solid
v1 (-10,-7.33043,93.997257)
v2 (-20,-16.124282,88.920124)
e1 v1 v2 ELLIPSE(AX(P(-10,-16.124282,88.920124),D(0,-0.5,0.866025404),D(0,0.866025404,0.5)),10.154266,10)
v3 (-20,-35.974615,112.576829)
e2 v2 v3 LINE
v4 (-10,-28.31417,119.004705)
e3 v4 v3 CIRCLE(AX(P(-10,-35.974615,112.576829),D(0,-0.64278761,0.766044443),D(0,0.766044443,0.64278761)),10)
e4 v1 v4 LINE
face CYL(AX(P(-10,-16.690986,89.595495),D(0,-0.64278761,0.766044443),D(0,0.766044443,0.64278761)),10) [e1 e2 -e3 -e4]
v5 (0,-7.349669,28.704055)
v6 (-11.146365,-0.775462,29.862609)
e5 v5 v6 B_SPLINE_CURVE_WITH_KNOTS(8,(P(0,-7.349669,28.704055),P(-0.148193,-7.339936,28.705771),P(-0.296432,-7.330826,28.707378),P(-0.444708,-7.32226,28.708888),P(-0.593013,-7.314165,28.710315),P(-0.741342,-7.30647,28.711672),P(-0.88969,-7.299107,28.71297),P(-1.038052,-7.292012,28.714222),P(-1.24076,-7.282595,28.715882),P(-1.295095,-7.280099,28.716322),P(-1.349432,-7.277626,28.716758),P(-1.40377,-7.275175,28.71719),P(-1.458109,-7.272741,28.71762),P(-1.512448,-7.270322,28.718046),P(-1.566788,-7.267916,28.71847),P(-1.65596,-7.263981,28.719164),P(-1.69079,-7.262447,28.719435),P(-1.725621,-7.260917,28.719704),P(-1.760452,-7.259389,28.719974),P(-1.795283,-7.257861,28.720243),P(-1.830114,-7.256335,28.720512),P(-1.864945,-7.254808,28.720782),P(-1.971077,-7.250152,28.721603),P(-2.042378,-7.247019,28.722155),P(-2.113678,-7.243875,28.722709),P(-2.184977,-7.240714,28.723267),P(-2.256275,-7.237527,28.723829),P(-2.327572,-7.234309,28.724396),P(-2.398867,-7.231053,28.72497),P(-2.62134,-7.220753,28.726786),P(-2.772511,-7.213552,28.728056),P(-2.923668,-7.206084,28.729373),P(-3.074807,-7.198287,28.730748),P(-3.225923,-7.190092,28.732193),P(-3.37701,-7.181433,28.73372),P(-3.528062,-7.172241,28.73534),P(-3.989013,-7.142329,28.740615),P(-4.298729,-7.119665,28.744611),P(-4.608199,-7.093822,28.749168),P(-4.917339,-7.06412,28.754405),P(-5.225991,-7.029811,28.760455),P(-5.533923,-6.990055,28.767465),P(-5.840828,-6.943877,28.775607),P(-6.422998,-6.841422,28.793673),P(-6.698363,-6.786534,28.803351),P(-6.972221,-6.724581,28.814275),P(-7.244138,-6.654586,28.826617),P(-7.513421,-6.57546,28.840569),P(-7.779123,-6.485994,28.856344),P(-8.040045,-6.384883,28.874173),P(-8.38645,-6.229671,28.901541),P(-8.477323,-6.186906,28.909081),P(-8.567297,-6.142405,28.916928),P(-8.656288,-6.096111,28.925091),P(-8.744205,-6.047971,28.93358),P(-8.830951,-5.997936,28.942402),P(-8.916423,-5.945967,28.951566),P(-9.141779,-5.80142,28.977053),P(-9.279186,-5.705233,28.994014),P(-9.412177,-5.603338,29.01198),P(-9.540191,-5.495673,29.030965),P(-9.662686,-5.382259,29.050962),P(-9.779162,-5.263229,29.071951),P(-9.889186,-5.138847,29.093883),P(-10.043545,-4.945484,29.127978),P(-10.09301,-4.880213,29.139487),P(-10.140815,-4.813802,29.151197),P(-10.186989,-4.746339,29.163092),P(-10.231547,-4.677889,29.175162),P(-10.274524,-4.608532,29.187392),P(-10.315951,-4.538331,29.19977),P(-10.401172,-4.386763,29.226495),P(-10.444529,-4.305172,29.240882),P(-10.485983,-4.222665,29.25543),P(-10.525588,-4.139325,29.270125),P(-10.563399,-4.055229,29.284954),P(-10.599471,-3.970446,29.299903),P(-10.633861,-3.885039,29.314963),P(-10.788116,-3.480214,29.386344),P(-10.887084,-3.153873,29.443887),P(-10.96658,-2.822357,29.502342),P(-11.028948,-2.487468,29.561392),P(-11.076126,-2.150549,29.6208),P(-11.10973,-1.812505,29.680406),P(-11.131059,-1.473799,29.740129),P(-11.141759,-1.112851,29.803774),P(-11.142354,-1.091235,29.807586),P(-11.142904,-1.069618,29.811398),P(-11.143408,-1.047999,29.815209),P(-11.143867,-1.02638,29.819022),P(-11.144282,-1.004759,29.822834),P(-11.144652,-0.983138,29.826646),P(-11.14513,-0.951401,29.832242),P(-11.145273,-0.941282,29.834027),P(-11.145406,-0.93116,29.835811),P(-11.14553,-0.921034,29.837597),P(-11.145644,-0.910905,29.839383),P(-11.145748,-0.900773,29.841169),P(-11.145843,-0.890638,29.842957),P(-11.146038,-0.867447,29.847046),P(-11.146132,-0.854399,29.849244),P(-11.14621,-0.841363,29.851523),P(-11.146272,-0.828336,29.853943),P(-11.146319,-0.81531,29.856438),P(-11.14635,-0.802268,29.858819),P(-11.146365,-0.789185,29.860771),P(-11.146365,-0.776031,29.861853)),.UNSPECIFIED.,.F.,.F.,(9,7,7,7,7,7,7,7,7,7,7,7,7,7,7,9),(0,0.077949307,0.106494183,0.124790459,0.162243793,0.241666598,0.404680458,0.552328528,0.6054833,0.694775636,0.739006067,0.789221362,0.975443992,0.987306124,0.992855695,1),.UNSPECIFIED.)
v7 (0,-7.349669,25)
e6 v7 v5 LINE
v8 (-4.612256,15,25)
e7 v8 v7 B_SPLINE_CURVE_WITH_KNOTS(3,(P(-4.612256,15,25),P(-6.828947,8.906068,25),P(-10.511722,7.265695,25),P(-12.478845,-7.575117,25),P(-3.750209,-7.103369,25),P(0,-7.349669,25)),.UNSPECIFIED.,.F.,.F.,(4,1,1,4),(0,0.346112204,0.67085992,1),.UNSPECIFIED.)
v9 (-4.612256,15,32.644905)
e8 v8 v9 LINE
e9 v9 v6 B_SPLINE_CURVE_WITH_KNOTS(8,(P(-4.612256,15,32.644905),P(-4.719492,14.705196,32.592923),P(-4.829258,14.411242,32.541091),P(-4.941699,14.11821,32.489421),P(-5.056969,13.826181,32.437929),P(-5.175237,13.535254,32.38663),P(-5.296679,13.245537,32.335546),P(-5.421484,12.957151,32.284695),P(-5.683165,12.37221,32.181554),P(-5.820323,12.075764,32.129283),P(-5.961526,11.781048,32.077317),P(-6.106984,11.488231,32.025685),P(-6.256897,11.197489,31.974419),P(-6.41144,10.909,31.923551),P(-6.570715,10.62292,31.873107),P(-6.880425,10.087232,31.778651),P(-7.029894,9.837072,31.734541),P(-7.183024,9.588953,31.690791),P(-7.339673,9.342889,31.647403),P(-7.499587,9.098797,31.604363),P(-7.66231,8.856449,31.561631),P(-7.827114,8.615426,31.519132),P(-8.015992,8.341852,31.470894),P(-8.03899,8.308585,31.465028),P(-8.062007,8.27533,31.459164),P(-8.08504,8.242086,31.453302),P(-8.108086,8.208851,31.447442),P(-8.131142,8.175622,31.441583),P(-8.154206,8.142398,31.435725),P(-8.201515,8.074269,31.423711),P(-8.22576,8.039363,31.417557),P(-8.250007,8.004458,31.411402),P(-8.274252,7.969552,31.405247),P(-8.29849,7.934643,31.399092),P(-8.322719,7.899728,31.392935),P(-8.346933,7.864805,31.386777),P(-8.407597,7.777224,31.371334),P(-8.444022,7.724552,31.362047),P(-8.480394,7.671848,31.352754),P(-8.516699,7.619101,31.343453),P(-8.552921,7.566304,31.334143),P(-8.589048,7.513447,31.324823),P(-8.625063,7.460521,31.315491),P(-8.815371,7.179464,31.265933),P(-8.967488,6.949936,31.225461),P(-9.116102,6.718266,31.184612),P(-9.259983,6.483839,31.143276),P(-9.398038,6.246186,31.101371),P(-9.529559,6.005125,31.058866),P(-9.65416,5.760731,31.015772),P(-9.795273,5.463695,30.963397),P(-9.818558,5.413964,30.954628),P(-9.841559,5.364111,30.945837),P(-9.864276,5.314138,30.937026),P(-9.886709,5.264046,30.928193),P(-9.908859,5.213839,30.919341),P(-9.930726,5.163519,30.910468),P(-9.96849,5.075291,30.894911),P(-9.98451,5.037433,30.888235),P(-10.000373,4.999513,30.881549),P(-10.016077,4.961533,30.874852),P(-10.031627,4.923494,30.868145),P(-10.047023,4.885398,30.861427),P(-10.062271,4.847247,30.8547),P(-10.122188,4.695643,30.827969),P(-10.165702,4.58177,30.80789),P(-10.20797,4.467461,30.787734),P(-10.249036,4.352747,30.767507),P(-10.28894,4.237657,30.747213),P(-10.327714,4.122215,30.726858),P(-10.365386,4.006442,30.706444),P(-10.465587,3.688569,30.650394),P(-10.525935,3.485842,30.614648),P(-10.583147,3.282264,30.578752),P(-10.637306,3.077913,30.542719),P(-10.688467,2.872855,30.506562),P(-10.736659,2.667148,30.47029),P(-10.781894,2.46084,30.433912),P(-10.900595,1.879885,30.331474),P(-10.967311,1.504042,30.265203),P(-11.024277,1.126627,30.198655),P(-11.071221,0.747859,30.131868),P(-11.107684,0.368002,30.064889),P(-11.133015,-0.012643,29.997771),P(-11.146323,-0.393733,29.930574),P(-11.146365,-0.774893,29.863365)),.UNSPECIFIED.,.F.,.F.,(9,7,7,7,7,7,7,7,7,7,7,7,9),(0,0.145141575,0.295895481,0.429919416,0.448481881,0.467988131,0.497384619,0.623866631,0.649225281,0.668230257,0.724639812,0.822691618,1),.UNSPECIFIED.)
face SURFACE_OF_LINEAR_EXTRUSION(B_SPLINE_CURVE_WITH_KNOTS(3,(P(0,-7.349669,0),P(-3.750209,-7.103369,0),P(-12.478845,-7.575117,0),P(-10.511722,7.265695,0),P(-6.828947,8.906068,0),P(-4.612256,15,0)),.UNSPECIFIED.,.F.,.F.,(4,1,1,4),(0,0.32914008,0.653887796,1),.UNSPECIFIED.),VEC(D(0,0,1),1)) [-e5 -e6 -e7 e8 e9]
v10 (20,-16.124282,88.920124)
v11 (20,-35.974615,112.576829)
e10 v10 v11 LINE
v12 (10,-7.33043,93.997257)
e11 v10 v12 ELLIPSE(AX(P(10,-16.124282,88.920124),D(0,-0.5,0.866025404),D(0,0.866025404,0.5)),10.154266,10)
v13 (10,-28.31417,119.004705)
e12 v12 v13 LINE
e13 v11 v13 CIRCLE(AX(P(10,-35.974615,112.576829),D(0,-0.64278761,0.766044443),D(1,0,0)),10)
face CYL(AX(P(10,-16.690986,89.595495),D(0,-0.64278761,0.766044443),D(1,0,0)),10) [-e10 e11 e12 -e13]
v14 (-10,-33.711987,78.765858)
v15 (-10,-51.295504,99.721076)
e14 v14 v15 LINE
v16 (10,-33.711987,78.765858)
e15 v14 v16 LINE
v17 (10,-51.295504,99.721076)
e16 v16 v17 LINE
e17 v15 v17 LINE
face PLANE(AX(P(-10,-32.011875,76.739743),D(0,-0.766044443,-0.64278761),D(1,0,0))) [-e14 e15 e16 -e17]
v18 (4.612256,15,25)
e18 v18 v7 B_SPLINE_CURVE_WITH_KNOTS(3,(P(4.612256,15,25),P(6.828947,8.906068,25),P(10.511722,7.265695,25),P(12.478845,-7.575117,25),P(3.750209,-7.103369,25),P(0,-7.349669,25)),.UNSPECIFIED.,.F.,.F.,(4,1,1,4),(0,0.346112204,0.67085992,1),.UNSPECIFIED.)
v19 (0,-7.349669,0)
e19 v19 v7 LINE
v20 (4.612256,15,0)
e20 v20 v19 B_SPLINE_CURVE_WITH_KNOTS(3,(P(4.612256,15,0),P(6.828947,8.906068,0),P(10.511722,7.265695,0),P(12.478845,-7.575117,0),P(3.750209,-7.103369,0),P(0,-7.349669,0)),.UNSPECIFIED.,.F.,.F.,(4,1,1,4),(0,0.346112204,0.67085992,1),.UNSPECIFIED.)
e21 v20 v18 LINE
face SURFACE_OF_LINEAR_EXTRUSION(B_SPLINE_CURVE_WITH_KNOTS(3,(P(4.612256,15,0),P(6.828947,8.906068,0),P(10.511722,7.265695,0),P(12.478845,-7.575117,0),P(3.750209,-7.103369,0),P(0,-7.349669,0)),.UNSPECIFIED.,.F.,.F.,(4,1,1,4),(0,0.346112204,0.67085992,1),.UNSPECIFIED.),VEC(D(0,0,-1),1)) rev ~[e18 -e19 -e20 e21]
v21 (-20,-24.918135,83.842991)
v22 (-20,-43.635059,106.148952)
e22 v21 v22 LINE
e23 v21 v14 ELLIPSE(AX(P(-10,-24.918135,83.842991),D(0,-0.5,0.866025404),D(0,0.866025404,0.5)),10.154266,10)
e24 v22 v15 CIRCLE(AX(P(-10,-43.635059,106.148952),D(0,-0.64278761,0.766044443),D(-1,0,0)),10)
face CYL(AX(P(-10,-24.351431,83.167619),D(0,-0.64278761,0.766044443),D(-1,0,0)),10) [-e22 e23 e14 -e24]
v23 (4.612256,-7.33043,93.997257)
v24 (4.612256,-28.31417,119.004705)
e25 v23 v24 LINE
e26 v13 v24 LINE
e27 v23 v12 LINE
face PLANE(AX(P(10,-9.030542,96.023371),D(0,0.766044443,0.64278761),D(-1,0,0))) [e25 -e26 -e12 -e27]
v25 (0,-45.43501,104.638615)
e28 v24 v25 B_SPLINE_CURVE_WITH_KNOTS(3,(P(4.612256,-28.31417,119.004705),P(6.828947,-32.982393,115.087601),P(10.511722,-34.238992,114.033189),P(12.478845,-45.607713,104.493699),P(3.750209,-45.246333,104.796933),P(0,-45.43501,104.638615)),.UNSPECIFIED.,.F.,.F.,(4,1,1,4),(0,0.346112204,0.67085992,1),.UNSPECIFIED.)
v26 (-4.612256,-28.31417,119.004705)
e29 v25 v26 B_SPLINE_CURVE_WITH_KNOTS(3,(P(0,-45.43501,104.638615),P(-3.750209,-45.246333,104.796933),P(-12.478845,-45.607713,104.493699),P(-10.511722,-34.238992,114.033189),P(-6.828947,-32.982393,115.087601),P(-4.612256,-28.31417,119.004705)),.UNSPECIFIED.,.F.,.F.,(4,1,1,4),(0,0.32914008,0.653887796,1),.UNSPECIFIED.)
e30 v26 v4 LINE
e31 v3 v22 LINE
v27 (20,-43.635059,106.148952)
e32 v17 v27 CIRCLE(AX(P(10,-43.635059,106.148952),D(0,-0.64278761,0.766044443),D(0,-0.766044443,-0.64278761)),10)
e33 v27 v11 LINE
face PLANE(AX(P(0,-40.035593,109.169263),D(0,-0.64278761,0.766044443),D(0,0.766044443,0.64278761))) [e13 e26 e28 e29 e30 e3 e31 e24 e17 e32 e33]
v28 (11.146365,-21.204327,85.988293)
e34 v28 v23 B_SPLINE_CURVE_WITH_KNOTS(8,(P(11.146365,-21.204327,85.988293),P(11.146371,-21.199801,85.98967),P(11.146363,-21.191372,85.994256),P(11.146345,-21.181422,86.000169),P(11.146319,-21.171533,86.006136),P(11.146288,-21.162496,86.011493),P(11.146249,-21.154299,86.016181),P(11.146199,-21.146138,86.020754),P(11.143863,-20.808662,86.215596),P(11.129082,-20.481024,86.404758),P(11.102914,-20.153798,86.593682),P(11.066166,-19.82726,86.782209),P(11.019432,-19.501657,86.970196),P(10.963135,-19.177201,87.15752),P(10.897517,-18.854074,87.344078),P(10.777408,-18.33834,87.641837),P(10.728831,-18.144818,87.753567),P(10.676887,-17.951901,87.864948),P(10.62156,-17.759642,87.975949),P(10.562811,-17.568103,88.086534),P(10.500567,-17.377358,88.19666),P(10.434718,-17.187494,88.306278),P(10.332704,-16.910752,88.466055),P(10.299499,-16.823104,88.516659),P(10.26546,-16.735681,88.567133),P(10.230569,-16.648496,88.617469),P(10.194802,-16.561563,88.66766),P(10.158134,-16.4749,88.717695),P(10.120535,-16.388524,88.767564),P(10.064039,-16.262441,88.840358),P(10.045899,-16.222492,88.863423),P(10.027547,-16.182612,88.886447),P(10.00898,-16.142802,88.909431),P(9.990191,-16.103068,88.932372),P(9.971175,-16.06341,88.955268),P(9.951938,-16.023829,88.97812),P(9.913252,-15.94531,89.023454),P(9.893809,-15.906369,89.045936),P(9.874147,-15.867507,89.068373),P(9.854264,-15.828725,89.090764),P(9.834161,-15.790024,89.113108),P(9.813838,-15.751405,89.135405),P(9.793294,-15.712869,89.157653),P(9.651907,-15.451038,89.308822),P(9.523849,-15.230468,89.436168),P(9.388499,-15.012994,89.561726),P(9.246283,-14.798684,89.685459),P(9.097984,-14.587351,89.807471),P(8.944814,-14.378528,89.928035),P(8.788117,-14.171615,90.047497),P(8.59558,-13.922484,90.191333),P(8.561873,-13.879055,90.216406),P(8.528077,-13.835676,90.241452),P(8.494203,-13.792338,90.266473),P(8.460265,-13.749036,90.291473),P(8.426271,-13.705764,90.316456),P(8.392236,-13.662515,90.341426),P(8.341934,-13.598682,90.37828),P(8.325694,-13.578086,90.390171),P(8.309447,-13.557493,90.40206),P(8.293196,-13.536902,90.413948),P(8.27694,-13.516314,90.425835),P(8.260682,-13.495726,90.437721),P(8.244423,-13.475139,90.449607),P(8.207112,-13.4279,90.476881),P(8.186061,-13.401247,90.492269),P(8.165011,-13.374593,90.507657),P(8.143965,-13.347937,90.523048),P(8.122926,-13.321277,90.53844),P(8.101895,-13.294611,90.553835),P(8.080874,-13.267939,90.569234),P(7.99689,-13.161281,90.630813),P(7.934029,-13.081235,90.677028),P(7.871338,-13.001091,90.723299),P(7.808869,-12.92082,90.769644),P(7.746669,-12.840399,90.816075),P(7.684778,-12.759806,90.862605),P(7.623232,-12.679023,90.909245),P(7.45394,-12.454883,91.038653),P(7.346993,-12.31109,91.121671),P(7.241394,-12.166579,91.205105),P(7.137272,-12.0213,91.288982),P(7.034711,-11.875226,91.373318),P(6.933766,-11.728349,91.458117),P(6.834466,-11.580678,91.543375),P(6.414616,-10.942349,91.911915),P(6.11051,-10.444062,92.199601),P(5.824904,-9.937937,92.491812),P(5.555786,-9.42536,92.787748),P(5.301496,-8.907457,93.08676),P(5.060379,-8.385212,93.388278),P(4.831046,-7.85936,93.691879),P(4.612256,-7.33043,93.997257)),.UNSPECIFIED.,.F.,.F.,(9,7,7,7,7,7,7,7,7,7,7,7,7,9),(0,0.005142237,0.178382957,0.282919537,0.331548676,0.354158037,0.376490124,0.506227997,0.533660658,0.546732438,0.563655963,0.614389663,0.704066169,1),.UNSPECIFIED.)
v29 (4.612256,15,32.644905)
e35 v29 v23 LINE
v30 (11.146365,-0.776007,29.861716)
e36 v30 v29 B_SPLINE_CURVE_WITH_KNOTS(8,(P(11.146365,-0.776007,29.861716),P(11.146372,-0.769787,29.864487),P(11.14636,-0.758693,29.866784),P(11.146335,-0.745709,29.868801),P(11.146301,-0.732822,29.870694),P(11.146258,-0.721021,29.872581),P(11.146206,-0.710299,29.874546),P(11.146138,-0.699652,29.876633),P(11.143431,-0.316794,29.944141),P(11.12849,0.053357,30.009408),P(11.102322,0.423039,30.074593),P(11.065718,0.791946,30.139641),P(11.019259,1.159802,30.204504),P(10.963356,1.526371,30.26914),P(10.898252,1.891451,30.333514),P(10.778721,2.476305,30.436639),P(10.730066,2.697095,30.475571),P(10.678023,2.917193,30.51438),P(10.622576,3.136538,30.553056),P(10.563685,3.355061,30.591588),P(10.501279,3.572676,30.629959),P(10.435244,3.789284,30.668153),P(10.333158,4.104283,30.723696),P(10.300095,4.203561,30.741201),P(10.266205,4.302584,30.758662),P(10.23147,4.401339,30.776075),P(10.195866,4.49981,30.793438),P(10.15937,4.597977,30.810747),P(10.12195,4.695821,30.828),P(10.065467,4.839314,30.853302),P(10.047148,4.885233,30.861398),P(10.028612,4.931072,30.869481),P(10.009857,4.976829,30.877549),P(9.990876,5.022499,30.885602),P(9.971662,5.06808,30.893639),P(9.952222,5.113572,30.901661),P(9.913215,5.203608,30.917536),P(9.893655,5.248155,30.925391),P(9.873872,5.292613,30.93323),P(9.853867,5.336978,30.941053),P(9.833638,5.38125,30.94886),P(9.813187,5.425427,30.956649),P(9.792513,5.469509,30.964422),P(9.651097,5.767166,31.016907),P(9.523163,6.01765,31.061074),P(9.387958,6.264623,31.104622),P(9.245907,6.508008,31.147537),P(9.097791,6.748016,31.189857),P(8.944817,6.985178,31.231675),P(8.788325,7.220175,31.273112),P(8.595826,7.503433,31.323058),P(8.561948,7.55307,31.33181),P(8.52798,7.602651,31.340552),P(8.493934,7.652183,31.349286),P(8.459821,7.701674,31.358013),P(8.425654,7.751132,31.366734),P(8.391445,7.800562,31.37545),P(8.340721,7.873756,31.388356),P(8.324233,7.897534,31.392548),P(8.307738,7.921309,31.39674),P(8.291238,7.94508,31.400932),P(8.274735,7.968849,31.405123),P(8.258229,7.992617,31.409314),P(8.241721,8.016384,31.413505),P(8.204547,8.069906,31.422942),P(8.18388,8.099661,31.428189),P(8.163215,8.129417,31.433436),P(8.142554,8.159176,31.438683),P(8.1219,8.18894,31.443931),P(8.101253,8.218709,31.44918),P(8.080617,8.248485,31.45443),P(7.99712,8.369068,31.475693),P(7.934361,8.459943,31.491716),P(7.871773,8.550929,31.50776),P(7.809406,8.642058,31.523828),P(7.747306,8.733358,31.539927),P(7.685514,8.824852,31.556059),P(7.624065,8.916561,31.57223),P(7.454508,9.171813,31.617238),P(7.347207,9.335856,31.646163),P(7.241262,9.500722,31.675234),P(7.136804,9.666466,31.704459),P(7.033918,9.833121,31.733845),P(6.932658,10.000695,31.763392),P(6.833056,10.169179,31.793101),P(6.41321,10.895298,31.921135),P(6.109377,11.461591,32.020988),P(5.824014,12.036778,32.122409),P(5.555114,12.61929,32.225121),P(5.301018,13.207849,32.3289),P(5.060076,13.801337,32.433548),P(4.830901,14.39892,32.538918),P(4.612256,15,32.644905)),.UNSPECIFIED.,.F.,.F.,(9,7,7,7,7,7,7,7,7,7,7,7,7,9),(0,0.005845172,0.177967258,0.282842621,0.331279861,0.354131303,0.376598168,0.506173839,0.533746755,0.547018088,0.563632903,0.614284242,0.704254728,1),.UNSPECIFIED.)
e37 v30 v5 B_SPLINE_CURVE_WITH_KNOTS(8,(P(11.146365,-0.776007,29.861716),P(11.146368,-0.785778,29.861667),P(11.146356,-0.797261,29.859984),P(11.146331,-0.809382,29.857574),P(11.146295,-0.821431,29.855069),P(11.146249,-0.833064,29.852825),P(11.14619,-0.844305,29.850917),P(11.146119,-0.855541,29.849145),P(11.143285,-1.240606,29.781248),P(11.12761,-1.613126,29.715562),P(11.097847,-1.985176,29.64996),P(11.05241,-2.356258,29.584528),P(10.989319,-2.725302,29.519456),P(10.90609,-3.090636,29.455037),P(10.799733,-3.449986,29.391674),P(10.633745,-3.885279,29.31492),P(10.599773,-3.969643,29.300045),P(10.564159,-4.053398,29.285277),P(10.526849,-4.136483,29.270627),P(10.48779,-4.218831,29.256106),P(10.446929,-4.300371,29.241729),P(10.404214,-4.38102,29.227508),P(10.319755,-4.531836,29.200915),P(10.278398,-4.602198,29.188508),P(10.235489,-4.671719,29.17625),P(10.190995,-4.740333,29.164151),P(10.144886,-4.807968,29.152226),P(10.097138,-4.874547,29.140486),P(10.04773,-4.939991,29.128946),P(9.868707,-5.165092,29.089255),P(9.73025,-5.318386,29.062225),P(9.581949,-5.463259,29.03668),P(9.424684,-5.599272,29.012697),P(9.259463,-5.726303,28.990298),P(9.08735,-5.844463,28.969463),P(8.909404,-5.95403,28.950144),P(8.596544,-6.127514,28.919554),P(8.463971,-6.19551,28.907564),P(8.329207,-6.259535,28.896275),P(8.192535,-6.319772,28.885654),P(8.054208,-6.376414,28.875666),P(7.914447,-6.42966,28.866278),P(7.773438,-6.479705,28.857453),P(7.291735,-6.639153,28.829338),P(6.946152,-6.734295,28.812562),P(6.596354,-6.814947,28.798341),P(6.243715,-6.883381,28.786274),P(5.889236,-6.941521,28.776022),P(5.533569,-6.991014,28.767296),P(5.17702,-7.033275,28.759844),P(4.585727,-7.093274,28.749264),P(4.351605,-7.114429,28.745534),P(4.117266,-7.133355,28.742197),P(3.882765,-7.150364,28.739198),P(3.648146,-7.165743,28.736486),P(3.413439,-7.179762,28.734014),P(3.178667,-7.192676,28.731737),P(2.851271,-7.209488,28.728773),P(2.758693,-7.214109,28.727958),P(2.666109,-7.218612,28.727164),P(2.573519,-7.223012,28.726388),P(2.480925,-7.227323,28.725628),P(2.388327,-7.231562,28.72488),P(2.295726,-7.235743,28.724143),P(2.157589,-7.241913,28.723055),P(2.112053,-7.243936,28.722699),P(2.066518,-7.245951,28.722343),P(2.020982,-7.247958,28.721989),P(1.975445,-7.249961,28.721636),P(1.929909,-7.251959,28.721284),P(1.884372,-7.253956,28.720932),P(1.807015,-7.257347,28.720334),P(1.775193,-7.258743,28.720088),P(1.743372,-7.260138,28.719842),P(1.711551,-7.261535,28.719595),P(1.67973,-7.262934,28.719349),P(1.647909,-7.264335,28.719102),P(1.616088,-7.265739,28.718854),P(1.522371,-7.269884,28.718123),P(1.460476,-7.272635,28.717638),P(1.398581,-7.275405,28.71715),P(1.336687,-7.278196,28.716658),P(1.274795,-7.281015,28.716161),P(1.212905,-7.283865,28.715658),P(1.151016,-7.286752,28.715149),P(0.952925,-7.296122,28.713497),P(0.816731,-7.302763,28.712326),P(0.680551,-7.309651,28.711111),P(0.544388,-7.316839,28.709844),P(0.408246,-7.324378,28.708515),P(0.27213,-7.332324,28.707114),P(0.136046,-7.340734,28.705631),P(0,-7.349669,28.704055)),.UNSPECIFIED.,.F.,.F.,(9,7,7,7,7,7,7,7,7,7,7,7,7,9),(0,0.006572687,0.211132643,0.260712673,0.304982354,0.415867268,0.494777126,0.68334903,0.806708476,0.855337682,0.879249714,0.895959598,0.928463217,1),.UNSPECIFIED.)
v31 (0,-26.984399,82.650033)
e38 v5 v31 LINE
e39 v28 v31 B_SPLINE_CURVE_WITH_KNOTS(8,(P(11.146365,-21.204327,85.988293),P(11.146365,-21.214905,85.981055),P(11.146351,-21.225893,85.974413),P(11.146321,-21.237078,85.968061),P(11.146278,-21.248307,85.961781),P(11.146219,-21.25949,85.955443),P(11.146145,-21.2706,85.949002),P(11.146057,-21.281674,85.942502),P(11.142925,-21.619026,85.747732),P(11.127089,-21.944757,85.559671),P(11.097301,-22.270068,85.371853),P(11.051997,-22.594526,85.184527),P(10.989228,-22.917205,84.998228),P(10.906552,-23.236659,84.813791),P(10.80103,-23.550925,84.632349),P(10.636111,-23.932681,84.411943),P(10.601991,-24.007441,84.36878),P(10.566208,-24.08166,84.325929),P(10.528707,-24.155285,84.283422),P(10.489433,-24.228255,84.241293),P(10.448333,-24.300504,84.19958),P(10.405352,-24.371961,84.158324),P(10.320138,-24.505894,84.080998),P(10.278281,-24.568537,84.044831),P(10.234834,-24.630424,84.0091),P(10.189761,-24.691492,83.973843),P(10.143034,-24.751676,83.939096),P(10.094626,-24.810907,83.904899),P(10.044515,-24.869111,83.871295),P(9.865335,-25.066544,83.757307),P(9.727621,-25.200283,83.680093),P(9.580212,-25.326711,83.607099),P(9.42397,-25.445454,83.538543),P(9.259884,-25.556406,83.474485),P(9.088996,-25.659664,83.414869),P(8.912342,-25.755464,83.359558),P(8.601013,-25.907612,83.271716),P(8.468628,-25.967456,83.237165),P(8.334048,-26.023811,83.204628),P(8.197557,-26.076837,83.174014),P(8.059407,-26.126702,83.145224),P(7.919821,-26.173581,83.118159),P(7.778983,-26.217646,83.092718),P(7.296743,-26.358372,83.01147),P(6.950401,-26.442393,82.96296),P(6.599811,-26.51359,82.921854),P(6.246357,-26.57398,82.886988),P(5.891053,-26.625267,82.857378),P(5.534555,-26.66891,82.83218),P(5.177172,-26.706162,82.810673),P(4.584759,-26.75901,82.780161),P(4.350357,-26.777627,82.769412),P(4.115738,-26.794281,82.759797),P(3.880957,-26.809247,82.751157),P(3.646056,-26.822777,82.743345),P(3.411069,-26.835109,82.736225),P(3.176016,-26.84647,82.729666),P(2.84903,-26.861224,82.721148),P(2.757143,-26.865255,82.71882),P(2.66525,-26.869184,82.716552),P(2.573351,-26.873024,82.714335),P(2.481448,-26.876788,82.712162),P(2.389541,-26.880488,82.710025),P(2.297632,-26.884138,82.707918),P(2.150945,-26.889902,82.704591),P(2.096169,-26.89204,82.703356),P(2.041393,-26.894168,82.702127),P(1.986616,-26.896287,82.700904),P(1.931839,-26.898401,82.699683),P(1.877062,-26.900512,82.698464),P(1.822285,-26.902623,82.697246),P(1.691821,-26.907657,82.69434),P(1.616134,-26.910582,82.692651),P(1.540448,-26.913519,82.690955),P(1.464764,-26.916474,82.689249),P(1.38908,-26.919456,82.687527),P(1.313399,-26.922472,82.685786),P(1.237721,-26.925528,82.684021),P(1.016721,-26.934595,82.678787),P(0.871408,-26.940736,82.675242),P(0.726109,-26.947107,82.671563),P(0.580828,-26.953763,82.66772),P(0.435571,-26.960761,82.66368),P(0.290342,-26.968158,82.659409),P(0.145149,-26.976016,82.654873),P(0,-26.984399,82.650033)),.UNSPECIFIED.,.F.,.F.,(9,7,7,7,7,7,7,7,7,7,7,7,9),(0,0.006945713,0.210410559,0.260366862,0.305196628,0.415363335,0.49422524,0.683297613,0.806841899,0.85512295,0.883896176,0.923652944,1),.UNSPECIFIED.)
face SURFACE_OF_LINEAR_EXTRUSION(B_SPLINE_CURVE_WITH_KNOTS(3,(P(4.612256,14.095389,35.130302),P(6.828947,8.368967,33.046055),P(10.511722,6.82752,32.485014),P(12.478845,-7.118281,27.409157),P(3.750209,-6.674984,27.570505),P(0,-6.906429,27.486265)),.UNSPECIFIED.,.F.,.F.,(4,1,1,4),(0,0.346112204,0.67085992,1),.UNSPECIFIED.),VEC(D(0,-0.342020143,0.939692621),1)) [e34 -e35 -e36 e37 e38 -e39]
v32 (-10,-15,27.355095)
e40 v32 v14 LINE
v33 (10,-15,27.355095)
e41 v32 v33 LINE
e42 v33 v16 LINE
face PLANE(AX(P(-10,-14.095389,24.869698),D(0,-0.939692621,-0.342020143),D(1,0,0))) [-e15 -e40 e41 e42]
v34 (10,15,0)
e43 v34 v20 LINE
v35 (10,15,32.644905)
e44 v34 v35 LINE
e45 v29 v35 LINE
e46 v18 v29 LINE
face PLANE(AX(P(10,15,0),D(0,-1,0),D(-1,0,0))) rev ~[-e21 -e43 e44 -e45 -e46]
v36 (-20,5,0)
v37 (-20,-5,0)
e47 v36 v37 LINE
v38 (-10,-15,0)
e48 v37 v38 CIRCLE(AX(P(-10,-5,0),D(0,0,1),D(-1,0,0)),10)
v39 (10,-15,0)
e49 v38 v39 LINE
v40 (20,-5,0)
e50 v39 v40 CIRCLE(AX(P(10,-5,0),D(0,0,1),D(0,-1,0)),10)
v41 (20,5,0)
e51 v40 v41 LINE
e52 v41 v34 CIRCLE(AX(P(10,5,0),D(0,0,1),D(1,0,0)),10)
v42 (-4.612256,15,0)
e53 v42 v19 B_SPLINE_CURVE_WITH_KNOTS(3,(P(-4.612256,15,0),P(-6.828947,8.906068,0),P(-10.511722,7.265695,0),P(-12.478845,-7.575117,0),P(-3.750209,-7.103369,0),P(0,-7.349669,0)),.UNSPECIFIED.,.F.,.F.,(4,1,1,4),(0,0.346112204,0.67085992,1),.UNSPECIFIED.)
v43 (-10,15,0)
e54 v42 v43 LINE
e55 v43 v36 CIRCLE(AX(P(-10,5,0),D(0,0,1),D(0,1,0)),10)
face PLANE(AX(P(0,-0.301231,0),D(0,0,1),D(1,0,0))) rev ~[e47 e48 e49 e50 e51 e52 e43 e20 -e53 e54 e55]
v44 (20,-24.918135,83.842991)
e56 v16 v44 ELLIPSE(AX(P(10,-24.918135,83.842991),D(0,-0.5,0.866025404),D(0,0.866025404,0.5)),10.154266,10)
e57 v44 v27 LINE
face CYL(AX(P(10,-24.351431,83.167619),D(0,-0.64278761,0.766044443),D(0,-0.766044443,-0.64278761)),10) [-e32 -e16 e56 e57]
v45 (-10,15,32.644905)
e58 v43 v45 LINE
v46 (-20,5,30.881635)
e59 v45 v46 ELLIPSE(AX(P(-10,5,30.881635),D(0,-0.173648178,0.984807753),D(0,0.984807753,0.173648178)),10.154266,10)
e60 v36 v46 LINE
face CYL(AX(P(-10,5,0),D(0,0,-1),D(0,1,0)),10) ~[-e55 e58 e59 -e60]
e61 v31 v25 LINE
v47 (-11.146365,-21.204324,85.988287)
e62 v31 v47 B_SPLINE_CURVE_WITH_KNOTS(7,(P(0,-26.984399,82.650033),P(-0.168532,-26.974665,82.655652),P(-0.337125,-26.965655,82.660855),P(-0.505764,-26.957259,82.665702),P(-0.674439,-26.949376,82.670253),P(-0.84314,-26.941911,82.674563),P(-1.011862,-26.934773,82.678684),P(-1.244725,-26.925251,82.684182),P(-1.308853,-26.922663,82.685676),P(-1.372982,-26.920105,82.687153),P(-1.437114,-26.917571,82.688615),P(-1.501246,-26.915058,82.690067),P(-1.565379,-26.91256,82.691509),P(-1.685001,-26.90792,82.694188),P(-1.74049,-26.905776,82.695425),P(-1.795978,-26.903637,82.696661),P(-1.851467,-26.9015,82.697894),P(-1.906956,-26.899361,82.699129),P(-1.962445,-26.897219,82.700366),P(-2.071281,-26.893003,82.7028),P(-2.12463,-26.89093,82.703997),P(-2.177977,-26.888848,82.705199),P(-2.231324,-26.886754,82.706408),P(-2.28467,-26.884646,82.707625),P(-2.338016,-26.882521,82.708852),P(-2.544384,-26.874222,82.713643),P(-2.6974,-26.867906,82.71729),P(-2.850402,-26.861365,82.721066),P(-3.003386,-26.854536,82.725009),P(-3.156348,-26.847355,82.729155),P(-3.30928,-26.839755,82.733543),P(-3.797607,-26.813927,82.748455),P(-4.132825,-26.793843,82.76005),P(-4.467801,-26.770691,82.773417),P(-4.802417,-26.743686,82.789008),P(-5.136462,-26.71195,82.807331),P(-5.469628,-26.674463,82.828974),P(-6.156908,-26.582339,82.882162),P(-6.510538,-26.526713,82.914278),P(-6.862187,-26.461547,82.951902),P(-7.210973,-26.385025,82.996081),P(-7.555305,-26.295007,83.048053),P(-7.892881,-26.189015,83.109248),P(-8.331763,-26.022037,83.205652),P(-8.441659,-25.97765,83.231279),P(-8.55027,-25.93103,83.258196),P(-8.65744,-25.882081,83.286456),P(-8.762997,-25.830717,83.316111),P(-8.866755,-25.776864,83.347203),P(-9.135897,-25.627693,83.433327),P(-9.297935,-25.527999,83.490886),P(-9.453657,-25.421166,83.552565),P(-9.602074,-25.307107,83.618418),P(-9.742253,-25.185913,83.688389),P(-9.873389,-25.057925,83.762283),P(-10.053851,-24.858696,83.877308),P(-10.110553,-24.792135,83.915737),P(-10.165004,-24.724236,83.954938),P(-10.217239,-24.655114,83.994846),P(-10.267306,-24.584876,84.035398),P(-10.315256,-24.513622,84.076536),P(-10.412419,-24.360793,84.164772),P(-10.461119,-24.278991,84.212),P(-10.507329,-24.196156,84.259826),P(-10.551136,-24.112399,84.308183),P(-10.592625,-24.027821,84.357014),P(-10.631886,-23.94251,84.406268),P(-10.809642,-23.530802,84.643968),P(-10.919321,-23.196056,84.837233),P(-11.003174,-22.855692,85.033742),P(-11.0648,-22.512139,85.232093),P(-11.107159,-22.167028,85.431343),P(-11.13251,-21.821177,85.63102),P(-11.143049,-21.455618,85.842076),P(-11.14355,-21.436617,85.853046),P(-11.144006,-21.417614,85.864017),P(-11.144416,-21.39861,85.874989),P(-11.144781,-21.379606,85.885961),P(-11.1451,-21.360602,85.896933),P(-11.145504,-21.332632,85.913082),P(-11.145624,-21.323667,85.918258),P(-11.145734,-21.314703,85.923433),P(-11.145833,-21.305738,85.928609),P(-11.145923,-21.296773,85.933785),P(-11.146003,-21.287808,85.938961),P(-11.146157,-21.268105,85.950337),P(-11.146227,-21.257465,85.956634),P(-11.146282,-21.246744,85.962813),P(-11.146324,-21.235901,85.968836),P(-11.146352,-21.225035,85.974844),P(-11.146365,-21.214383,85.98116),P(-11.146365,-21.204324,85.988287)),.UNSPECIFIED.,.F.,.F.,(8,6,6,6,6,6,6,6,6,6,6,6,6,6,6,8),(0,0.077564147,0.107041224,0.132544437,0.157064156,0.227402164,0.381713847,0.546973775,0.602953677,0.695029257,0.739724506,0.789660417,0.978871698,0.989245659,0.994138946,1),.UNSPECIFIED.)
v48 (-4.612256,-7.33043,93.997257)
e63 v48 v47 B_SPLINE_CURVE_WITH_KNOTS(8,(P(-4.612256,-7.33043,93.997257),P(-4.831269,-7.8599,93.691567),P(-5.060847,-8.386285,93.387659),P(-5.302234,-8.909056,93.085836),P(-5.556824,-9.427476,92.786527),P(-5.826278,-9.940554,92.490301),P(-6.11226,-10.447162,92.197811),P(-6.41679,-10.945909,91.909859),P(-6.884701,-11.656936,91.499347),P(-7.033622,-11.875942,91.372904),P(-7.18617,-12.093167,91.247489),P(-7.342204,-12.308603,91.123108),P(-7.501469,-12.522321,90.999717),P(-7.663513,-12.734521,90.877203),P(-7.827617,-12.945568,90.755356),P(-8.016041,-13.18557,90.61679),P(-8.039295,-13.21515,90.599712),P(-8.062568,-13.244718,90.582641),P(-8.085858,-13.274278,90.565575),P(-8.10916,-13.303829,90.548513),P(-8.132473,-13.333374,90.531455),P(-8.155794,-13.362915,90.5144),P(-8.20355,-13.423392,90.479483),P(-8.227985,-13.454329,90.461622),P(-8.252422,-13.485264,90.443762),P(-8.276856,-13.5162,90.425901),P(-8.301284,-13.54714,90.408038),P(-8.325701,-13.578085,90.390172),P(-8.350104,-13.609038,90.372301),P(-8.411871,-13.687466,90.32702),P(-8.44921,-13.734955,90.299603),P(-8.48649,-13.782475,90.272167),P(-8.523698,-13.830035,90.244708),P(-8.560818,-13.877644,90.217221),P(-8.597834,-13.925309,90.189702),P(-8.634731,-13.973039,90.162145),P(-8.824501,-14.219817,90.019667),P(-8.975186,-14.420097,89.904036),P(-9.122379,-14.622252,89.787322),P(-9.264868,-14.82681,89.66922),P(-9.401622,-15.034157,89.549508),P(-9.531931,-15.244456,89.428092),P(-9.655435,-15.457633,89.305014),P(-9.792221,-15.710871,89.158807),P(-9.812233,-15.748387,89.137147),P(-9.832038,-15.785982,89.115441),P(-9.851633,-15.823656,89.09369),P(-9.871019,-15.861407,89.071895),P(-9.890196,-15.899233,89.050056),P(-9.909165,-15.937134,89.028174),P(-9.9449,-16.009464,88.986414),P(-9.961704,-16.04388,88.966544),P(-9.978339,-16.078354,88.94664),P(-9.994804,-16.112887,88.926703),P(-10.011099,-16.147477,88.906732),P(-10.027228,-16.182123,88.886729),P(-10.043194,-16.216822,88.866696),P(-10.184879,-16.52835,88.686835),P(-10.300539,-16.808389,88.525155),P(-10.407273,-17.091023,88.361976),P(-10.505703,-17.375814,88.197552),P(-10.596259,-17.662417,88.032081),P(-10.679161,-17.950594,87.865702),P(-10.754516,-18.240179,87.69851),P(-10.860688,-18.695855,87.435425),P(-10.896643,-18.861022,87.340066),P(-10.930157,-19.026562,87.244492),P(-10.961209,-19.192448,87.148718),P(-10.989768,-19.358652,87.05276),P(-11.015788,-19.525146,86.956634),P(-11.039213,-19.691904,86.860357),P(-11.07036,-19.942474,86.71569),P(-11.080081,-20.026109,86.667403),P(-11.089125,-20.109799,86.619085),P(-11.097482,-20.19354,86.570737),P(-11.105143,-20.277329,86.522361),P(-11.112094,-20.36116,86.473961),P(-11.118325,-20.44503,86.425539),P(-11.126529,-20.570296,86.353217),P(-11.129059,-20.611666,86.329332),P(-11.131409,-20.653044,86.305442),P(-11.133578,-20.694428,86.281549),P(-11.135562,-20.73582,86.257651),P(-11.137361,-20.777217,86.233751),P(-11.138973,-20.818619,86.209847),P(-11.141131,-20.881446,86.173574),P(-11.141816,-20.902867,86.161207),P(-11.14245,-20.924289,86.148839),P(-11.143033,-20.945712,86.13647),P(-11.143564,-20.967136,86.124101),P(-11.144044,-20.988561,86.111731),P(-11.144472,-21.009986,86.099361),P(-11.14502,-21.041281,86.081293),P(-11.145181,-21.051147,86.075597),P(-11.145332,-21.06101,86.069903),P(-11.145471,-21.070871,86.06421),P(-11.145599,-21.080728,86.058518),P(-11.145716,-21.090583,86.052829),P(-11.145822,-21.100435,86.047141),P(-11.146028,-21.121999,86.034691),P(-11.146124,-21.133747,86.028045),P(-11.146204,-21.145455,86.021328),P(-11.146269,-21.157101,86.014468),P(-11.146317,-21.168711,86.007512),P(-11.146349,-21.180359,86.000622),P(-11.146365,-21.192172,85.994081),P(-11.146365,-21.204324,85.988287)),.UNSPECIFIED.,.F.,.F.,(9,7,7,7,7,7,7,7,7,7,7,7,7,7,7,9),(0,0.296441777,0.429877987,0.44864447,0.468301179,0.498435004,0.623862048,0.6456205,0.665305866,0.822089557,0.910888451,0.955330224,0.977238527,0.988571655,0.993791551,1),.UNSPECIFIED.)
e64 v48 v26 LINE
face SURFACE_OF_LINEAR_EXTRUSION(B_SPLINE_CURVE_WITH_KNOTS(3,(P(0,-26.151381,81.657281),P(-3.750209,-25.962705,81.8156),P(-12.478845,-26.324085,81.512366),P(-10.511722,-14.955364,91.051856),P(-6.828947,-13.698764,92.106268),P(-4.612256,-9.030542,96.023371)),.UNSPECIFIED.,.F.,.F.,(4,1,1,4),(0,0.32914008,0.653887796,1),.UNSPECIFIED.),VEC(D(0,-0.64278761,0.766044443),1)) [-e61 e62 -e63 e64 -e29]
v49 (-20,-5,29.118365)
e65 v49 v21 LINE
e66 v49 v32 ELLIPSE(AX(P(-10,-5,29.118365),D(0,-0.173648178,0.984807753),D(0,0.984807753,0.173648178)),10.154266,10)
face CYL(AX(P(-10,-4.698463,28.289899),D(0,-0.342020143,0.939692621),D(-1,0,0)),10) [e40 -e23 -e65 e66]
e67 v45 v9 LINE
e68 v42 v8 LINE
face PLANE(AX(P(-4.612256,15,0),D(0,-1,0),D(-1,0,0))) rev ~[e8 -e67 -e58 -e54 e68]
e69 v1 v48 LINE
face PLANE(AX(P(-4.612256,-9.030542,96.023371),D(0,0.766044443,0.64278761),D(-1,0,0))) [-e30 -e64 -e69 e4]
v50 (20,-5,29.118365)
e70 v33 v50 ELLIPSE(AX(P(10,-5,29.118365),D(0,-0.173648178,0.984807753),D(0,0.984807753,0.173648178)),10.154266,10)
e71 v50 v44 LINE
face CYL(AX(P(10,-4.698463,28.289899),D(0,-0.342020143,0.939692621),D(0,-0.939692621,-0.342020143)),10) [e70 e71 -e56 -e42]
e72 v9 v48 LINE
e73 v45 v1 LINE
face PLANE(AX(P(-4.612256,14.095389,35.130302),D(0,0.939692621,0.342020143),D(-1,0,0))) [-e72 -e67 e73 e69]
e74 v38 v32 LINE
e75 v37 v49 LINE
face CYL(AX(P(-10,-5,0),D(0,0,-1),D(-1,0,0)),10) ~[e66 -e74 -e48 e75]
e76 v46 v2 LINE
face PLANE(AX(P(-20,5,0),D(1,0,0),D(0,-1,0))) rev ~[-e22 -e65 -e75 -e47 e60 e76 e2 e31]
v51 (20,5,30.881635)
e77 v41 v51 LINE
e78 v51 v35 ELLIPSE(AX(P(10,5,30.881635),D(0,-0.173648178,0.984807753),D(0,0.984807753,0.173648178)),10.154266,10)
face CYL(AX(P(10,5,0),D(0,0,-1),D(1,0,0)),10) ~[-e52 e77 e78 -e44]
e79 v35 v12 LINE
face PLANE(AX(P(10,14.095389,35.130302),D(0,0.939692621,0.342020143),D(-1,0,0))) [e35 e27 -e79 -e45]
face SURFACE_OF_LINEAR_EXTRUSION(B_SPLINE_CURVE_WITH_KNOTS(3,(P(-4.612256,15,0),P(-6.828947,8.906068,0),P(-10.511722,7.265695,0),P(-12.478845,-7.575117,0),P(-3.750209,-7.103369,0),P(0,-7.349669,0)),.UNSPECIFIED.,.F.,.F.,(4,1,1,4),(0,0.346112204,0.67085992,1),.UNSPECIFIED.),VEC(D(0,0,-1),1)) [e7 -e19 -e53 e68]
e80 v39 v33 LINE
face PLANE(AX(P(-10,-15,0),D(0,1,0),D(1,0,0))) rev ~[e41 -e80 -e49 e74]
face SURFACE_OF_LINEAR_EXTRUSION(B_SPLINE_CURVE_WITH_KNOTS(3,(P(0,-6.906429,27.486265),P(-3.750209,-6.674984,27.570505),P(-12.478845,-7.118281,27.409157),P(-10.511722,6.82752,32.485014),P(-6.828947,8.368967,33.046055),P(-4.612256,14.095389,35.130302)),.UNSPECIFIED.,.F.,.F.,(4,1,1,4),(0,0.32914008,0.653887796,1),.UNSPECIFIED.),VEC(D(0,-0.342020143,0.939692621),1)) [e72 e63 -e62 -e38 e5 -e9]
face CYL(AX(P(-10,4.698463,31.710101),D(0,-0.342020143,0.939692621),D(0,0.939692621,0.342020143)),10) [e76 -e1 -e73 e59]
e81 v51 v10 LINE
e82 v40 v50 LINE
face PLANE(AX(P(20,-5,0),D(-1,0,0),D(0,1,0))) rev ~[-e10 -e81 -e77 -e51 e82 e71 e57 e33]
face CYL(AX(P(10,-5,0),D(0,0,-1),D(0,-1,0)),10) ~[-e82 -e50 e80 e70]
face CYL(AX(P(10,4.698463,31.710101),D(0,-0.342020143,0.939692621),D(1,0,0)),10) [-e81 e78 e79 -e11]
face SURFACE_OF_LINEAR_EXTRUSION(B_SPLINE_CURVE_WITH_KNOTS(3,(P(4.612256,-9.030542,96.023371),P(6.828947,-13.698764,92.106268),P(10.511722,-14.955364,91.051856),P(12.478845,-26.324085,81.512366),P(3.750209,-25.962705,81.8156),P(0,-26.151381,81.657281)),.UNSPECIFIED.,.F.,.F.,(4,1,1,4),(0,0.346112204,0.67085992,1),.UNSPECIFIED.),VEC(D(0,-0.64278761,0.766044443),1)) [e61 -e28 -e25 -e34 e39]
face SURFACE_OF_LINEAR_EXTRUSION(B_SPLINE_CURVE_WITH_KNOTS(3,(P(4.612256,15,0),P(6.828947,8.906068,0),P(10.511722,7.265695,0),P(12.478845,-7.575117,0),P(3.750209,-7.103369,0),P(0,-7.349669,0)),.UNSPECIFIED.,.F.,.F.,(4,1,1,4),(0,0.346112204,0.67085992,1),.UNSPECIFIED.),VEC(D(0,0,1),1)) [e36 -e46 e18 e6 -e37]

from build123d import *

# Parameters (mm, degrees)
F2_DEPTH = 25


with BuildPart() as f2:
    # F0 (on Top) → F2 (new body)
    with BuildSketch(Plane.XY):
        with BuildLine():
            Line((-4.6122563072, 15), (-10, 15))
            ThreePointArc((-10, 15), (-17.0710678119, 12.0710678119), (-20, 5))
            Line((-20, 5), (-20, -5))
            ThreePointArc((-20, -5), (-17.0710678119, -12.0710678119), (-10, -15))
            Line((-10, -15), (10, -15))
            ThreePointArc((10, -15), (17.0710678119, -12.0710678119), (20, -5))
            Line((20, -5), (20, 5))
            ThreePointArc((20, 5), (17.0710678119, 12.0710678119), (10, 15))
            Line((10, 15), (4.6122563072, 15))
            add(Edge.make_bspline(
                [(4.6122563072, 15), (6.8289469928, 8.9060682803), (10.5117220245, 7.2656945751), (12.4788450791, -7.5751167321), (3.7502092309, -7.1033691056), (0, -7.3496685363)],
                knots=[0, 0, 0, 0, 0.3461122042, 0.6708599201, 1, 1, 1, 1], degree=3))
            add(Edge.make_bspline(
                [(-4.6122563072, 15), (-6.8289469928, 8.9060682803), (-10.5117220245, 7.2656945751), (-12.4788450791, -7.5751167321), (-3.7502092309, -7.1033691056), (0, -7.3496685363)],
                knots=[0, 0, 0, 0, 0.3461122042, 0.6708599201, 1, 1, 1, 1], degree=3))
        make_face()
    extrude(amount=F2_DEPTH)

    # F3: sweep along a path in F1
    with BuildLine(Plane.YZ) as f3_path:
        Line((0, 0), (0, 30))
        Line((0, 30), (-20.5212085995, 86.3815572472))
        Line((-20.5212085995, 86.3815572472), (-39.8048368901, 109.3628905407))
    # F0 (on Top) → F3 (sweep)
    with BuildSketch(Plane.XY):
        with BuildLine():
            Line((-4.6122563072, 15), (-10, 15))
            ThreePointArc((-10, 15), (-17.0710678119, 12.0710678119), (-20, 5))
            Line((-20, 5), (-20, -5))
            ThreePointArc((-20, -5), (-17.0710678119, -12.0710678119), (-10, -15))
            Line((-10, -15), (10, -15))
            ThreePointArc((10, -15), (17.0710678119, -12.0710678119), (20, -5))
            Line((20, -5), (20, 5))
            ThreePointArc((20, 5), (17.0710678119, 12.0710678119), (10, 15))
            Line((10, 15), (4.6122563072, 15))
            add(Edge.make_bspline(
                [(4.6122563072, 15), (6.8289469928, 8.9060682803), (10.5117220245, 7.2656945751), (12.4788450791, -7.5751167321), (3.7502092309, -7.1033691056), (0, -7.3496685363)],
                knots=[0, 0, 0, 0, 0.3461122042, 0.6708599201, 1, 1, 1, 1], degree=3))
            add(Edge.make_bspline(
                [(-4.6122563072, 15), (-6.8289469928, 8.9060682803), (-10.5117220245, 7.2656945751), (-12.4788450791, -7.5751167321), (-3.7502092309, -7.1033691056), (0, -7.3496685363)],
                knots=[0, 0, 0, 0, 0.3461122042, 0.6708599201, 1, 1, 1, 1], degree=3))
        make_face()
    sweep(path=f3_path.line, transition=Transition.RIGHT)


solid = f2.part
